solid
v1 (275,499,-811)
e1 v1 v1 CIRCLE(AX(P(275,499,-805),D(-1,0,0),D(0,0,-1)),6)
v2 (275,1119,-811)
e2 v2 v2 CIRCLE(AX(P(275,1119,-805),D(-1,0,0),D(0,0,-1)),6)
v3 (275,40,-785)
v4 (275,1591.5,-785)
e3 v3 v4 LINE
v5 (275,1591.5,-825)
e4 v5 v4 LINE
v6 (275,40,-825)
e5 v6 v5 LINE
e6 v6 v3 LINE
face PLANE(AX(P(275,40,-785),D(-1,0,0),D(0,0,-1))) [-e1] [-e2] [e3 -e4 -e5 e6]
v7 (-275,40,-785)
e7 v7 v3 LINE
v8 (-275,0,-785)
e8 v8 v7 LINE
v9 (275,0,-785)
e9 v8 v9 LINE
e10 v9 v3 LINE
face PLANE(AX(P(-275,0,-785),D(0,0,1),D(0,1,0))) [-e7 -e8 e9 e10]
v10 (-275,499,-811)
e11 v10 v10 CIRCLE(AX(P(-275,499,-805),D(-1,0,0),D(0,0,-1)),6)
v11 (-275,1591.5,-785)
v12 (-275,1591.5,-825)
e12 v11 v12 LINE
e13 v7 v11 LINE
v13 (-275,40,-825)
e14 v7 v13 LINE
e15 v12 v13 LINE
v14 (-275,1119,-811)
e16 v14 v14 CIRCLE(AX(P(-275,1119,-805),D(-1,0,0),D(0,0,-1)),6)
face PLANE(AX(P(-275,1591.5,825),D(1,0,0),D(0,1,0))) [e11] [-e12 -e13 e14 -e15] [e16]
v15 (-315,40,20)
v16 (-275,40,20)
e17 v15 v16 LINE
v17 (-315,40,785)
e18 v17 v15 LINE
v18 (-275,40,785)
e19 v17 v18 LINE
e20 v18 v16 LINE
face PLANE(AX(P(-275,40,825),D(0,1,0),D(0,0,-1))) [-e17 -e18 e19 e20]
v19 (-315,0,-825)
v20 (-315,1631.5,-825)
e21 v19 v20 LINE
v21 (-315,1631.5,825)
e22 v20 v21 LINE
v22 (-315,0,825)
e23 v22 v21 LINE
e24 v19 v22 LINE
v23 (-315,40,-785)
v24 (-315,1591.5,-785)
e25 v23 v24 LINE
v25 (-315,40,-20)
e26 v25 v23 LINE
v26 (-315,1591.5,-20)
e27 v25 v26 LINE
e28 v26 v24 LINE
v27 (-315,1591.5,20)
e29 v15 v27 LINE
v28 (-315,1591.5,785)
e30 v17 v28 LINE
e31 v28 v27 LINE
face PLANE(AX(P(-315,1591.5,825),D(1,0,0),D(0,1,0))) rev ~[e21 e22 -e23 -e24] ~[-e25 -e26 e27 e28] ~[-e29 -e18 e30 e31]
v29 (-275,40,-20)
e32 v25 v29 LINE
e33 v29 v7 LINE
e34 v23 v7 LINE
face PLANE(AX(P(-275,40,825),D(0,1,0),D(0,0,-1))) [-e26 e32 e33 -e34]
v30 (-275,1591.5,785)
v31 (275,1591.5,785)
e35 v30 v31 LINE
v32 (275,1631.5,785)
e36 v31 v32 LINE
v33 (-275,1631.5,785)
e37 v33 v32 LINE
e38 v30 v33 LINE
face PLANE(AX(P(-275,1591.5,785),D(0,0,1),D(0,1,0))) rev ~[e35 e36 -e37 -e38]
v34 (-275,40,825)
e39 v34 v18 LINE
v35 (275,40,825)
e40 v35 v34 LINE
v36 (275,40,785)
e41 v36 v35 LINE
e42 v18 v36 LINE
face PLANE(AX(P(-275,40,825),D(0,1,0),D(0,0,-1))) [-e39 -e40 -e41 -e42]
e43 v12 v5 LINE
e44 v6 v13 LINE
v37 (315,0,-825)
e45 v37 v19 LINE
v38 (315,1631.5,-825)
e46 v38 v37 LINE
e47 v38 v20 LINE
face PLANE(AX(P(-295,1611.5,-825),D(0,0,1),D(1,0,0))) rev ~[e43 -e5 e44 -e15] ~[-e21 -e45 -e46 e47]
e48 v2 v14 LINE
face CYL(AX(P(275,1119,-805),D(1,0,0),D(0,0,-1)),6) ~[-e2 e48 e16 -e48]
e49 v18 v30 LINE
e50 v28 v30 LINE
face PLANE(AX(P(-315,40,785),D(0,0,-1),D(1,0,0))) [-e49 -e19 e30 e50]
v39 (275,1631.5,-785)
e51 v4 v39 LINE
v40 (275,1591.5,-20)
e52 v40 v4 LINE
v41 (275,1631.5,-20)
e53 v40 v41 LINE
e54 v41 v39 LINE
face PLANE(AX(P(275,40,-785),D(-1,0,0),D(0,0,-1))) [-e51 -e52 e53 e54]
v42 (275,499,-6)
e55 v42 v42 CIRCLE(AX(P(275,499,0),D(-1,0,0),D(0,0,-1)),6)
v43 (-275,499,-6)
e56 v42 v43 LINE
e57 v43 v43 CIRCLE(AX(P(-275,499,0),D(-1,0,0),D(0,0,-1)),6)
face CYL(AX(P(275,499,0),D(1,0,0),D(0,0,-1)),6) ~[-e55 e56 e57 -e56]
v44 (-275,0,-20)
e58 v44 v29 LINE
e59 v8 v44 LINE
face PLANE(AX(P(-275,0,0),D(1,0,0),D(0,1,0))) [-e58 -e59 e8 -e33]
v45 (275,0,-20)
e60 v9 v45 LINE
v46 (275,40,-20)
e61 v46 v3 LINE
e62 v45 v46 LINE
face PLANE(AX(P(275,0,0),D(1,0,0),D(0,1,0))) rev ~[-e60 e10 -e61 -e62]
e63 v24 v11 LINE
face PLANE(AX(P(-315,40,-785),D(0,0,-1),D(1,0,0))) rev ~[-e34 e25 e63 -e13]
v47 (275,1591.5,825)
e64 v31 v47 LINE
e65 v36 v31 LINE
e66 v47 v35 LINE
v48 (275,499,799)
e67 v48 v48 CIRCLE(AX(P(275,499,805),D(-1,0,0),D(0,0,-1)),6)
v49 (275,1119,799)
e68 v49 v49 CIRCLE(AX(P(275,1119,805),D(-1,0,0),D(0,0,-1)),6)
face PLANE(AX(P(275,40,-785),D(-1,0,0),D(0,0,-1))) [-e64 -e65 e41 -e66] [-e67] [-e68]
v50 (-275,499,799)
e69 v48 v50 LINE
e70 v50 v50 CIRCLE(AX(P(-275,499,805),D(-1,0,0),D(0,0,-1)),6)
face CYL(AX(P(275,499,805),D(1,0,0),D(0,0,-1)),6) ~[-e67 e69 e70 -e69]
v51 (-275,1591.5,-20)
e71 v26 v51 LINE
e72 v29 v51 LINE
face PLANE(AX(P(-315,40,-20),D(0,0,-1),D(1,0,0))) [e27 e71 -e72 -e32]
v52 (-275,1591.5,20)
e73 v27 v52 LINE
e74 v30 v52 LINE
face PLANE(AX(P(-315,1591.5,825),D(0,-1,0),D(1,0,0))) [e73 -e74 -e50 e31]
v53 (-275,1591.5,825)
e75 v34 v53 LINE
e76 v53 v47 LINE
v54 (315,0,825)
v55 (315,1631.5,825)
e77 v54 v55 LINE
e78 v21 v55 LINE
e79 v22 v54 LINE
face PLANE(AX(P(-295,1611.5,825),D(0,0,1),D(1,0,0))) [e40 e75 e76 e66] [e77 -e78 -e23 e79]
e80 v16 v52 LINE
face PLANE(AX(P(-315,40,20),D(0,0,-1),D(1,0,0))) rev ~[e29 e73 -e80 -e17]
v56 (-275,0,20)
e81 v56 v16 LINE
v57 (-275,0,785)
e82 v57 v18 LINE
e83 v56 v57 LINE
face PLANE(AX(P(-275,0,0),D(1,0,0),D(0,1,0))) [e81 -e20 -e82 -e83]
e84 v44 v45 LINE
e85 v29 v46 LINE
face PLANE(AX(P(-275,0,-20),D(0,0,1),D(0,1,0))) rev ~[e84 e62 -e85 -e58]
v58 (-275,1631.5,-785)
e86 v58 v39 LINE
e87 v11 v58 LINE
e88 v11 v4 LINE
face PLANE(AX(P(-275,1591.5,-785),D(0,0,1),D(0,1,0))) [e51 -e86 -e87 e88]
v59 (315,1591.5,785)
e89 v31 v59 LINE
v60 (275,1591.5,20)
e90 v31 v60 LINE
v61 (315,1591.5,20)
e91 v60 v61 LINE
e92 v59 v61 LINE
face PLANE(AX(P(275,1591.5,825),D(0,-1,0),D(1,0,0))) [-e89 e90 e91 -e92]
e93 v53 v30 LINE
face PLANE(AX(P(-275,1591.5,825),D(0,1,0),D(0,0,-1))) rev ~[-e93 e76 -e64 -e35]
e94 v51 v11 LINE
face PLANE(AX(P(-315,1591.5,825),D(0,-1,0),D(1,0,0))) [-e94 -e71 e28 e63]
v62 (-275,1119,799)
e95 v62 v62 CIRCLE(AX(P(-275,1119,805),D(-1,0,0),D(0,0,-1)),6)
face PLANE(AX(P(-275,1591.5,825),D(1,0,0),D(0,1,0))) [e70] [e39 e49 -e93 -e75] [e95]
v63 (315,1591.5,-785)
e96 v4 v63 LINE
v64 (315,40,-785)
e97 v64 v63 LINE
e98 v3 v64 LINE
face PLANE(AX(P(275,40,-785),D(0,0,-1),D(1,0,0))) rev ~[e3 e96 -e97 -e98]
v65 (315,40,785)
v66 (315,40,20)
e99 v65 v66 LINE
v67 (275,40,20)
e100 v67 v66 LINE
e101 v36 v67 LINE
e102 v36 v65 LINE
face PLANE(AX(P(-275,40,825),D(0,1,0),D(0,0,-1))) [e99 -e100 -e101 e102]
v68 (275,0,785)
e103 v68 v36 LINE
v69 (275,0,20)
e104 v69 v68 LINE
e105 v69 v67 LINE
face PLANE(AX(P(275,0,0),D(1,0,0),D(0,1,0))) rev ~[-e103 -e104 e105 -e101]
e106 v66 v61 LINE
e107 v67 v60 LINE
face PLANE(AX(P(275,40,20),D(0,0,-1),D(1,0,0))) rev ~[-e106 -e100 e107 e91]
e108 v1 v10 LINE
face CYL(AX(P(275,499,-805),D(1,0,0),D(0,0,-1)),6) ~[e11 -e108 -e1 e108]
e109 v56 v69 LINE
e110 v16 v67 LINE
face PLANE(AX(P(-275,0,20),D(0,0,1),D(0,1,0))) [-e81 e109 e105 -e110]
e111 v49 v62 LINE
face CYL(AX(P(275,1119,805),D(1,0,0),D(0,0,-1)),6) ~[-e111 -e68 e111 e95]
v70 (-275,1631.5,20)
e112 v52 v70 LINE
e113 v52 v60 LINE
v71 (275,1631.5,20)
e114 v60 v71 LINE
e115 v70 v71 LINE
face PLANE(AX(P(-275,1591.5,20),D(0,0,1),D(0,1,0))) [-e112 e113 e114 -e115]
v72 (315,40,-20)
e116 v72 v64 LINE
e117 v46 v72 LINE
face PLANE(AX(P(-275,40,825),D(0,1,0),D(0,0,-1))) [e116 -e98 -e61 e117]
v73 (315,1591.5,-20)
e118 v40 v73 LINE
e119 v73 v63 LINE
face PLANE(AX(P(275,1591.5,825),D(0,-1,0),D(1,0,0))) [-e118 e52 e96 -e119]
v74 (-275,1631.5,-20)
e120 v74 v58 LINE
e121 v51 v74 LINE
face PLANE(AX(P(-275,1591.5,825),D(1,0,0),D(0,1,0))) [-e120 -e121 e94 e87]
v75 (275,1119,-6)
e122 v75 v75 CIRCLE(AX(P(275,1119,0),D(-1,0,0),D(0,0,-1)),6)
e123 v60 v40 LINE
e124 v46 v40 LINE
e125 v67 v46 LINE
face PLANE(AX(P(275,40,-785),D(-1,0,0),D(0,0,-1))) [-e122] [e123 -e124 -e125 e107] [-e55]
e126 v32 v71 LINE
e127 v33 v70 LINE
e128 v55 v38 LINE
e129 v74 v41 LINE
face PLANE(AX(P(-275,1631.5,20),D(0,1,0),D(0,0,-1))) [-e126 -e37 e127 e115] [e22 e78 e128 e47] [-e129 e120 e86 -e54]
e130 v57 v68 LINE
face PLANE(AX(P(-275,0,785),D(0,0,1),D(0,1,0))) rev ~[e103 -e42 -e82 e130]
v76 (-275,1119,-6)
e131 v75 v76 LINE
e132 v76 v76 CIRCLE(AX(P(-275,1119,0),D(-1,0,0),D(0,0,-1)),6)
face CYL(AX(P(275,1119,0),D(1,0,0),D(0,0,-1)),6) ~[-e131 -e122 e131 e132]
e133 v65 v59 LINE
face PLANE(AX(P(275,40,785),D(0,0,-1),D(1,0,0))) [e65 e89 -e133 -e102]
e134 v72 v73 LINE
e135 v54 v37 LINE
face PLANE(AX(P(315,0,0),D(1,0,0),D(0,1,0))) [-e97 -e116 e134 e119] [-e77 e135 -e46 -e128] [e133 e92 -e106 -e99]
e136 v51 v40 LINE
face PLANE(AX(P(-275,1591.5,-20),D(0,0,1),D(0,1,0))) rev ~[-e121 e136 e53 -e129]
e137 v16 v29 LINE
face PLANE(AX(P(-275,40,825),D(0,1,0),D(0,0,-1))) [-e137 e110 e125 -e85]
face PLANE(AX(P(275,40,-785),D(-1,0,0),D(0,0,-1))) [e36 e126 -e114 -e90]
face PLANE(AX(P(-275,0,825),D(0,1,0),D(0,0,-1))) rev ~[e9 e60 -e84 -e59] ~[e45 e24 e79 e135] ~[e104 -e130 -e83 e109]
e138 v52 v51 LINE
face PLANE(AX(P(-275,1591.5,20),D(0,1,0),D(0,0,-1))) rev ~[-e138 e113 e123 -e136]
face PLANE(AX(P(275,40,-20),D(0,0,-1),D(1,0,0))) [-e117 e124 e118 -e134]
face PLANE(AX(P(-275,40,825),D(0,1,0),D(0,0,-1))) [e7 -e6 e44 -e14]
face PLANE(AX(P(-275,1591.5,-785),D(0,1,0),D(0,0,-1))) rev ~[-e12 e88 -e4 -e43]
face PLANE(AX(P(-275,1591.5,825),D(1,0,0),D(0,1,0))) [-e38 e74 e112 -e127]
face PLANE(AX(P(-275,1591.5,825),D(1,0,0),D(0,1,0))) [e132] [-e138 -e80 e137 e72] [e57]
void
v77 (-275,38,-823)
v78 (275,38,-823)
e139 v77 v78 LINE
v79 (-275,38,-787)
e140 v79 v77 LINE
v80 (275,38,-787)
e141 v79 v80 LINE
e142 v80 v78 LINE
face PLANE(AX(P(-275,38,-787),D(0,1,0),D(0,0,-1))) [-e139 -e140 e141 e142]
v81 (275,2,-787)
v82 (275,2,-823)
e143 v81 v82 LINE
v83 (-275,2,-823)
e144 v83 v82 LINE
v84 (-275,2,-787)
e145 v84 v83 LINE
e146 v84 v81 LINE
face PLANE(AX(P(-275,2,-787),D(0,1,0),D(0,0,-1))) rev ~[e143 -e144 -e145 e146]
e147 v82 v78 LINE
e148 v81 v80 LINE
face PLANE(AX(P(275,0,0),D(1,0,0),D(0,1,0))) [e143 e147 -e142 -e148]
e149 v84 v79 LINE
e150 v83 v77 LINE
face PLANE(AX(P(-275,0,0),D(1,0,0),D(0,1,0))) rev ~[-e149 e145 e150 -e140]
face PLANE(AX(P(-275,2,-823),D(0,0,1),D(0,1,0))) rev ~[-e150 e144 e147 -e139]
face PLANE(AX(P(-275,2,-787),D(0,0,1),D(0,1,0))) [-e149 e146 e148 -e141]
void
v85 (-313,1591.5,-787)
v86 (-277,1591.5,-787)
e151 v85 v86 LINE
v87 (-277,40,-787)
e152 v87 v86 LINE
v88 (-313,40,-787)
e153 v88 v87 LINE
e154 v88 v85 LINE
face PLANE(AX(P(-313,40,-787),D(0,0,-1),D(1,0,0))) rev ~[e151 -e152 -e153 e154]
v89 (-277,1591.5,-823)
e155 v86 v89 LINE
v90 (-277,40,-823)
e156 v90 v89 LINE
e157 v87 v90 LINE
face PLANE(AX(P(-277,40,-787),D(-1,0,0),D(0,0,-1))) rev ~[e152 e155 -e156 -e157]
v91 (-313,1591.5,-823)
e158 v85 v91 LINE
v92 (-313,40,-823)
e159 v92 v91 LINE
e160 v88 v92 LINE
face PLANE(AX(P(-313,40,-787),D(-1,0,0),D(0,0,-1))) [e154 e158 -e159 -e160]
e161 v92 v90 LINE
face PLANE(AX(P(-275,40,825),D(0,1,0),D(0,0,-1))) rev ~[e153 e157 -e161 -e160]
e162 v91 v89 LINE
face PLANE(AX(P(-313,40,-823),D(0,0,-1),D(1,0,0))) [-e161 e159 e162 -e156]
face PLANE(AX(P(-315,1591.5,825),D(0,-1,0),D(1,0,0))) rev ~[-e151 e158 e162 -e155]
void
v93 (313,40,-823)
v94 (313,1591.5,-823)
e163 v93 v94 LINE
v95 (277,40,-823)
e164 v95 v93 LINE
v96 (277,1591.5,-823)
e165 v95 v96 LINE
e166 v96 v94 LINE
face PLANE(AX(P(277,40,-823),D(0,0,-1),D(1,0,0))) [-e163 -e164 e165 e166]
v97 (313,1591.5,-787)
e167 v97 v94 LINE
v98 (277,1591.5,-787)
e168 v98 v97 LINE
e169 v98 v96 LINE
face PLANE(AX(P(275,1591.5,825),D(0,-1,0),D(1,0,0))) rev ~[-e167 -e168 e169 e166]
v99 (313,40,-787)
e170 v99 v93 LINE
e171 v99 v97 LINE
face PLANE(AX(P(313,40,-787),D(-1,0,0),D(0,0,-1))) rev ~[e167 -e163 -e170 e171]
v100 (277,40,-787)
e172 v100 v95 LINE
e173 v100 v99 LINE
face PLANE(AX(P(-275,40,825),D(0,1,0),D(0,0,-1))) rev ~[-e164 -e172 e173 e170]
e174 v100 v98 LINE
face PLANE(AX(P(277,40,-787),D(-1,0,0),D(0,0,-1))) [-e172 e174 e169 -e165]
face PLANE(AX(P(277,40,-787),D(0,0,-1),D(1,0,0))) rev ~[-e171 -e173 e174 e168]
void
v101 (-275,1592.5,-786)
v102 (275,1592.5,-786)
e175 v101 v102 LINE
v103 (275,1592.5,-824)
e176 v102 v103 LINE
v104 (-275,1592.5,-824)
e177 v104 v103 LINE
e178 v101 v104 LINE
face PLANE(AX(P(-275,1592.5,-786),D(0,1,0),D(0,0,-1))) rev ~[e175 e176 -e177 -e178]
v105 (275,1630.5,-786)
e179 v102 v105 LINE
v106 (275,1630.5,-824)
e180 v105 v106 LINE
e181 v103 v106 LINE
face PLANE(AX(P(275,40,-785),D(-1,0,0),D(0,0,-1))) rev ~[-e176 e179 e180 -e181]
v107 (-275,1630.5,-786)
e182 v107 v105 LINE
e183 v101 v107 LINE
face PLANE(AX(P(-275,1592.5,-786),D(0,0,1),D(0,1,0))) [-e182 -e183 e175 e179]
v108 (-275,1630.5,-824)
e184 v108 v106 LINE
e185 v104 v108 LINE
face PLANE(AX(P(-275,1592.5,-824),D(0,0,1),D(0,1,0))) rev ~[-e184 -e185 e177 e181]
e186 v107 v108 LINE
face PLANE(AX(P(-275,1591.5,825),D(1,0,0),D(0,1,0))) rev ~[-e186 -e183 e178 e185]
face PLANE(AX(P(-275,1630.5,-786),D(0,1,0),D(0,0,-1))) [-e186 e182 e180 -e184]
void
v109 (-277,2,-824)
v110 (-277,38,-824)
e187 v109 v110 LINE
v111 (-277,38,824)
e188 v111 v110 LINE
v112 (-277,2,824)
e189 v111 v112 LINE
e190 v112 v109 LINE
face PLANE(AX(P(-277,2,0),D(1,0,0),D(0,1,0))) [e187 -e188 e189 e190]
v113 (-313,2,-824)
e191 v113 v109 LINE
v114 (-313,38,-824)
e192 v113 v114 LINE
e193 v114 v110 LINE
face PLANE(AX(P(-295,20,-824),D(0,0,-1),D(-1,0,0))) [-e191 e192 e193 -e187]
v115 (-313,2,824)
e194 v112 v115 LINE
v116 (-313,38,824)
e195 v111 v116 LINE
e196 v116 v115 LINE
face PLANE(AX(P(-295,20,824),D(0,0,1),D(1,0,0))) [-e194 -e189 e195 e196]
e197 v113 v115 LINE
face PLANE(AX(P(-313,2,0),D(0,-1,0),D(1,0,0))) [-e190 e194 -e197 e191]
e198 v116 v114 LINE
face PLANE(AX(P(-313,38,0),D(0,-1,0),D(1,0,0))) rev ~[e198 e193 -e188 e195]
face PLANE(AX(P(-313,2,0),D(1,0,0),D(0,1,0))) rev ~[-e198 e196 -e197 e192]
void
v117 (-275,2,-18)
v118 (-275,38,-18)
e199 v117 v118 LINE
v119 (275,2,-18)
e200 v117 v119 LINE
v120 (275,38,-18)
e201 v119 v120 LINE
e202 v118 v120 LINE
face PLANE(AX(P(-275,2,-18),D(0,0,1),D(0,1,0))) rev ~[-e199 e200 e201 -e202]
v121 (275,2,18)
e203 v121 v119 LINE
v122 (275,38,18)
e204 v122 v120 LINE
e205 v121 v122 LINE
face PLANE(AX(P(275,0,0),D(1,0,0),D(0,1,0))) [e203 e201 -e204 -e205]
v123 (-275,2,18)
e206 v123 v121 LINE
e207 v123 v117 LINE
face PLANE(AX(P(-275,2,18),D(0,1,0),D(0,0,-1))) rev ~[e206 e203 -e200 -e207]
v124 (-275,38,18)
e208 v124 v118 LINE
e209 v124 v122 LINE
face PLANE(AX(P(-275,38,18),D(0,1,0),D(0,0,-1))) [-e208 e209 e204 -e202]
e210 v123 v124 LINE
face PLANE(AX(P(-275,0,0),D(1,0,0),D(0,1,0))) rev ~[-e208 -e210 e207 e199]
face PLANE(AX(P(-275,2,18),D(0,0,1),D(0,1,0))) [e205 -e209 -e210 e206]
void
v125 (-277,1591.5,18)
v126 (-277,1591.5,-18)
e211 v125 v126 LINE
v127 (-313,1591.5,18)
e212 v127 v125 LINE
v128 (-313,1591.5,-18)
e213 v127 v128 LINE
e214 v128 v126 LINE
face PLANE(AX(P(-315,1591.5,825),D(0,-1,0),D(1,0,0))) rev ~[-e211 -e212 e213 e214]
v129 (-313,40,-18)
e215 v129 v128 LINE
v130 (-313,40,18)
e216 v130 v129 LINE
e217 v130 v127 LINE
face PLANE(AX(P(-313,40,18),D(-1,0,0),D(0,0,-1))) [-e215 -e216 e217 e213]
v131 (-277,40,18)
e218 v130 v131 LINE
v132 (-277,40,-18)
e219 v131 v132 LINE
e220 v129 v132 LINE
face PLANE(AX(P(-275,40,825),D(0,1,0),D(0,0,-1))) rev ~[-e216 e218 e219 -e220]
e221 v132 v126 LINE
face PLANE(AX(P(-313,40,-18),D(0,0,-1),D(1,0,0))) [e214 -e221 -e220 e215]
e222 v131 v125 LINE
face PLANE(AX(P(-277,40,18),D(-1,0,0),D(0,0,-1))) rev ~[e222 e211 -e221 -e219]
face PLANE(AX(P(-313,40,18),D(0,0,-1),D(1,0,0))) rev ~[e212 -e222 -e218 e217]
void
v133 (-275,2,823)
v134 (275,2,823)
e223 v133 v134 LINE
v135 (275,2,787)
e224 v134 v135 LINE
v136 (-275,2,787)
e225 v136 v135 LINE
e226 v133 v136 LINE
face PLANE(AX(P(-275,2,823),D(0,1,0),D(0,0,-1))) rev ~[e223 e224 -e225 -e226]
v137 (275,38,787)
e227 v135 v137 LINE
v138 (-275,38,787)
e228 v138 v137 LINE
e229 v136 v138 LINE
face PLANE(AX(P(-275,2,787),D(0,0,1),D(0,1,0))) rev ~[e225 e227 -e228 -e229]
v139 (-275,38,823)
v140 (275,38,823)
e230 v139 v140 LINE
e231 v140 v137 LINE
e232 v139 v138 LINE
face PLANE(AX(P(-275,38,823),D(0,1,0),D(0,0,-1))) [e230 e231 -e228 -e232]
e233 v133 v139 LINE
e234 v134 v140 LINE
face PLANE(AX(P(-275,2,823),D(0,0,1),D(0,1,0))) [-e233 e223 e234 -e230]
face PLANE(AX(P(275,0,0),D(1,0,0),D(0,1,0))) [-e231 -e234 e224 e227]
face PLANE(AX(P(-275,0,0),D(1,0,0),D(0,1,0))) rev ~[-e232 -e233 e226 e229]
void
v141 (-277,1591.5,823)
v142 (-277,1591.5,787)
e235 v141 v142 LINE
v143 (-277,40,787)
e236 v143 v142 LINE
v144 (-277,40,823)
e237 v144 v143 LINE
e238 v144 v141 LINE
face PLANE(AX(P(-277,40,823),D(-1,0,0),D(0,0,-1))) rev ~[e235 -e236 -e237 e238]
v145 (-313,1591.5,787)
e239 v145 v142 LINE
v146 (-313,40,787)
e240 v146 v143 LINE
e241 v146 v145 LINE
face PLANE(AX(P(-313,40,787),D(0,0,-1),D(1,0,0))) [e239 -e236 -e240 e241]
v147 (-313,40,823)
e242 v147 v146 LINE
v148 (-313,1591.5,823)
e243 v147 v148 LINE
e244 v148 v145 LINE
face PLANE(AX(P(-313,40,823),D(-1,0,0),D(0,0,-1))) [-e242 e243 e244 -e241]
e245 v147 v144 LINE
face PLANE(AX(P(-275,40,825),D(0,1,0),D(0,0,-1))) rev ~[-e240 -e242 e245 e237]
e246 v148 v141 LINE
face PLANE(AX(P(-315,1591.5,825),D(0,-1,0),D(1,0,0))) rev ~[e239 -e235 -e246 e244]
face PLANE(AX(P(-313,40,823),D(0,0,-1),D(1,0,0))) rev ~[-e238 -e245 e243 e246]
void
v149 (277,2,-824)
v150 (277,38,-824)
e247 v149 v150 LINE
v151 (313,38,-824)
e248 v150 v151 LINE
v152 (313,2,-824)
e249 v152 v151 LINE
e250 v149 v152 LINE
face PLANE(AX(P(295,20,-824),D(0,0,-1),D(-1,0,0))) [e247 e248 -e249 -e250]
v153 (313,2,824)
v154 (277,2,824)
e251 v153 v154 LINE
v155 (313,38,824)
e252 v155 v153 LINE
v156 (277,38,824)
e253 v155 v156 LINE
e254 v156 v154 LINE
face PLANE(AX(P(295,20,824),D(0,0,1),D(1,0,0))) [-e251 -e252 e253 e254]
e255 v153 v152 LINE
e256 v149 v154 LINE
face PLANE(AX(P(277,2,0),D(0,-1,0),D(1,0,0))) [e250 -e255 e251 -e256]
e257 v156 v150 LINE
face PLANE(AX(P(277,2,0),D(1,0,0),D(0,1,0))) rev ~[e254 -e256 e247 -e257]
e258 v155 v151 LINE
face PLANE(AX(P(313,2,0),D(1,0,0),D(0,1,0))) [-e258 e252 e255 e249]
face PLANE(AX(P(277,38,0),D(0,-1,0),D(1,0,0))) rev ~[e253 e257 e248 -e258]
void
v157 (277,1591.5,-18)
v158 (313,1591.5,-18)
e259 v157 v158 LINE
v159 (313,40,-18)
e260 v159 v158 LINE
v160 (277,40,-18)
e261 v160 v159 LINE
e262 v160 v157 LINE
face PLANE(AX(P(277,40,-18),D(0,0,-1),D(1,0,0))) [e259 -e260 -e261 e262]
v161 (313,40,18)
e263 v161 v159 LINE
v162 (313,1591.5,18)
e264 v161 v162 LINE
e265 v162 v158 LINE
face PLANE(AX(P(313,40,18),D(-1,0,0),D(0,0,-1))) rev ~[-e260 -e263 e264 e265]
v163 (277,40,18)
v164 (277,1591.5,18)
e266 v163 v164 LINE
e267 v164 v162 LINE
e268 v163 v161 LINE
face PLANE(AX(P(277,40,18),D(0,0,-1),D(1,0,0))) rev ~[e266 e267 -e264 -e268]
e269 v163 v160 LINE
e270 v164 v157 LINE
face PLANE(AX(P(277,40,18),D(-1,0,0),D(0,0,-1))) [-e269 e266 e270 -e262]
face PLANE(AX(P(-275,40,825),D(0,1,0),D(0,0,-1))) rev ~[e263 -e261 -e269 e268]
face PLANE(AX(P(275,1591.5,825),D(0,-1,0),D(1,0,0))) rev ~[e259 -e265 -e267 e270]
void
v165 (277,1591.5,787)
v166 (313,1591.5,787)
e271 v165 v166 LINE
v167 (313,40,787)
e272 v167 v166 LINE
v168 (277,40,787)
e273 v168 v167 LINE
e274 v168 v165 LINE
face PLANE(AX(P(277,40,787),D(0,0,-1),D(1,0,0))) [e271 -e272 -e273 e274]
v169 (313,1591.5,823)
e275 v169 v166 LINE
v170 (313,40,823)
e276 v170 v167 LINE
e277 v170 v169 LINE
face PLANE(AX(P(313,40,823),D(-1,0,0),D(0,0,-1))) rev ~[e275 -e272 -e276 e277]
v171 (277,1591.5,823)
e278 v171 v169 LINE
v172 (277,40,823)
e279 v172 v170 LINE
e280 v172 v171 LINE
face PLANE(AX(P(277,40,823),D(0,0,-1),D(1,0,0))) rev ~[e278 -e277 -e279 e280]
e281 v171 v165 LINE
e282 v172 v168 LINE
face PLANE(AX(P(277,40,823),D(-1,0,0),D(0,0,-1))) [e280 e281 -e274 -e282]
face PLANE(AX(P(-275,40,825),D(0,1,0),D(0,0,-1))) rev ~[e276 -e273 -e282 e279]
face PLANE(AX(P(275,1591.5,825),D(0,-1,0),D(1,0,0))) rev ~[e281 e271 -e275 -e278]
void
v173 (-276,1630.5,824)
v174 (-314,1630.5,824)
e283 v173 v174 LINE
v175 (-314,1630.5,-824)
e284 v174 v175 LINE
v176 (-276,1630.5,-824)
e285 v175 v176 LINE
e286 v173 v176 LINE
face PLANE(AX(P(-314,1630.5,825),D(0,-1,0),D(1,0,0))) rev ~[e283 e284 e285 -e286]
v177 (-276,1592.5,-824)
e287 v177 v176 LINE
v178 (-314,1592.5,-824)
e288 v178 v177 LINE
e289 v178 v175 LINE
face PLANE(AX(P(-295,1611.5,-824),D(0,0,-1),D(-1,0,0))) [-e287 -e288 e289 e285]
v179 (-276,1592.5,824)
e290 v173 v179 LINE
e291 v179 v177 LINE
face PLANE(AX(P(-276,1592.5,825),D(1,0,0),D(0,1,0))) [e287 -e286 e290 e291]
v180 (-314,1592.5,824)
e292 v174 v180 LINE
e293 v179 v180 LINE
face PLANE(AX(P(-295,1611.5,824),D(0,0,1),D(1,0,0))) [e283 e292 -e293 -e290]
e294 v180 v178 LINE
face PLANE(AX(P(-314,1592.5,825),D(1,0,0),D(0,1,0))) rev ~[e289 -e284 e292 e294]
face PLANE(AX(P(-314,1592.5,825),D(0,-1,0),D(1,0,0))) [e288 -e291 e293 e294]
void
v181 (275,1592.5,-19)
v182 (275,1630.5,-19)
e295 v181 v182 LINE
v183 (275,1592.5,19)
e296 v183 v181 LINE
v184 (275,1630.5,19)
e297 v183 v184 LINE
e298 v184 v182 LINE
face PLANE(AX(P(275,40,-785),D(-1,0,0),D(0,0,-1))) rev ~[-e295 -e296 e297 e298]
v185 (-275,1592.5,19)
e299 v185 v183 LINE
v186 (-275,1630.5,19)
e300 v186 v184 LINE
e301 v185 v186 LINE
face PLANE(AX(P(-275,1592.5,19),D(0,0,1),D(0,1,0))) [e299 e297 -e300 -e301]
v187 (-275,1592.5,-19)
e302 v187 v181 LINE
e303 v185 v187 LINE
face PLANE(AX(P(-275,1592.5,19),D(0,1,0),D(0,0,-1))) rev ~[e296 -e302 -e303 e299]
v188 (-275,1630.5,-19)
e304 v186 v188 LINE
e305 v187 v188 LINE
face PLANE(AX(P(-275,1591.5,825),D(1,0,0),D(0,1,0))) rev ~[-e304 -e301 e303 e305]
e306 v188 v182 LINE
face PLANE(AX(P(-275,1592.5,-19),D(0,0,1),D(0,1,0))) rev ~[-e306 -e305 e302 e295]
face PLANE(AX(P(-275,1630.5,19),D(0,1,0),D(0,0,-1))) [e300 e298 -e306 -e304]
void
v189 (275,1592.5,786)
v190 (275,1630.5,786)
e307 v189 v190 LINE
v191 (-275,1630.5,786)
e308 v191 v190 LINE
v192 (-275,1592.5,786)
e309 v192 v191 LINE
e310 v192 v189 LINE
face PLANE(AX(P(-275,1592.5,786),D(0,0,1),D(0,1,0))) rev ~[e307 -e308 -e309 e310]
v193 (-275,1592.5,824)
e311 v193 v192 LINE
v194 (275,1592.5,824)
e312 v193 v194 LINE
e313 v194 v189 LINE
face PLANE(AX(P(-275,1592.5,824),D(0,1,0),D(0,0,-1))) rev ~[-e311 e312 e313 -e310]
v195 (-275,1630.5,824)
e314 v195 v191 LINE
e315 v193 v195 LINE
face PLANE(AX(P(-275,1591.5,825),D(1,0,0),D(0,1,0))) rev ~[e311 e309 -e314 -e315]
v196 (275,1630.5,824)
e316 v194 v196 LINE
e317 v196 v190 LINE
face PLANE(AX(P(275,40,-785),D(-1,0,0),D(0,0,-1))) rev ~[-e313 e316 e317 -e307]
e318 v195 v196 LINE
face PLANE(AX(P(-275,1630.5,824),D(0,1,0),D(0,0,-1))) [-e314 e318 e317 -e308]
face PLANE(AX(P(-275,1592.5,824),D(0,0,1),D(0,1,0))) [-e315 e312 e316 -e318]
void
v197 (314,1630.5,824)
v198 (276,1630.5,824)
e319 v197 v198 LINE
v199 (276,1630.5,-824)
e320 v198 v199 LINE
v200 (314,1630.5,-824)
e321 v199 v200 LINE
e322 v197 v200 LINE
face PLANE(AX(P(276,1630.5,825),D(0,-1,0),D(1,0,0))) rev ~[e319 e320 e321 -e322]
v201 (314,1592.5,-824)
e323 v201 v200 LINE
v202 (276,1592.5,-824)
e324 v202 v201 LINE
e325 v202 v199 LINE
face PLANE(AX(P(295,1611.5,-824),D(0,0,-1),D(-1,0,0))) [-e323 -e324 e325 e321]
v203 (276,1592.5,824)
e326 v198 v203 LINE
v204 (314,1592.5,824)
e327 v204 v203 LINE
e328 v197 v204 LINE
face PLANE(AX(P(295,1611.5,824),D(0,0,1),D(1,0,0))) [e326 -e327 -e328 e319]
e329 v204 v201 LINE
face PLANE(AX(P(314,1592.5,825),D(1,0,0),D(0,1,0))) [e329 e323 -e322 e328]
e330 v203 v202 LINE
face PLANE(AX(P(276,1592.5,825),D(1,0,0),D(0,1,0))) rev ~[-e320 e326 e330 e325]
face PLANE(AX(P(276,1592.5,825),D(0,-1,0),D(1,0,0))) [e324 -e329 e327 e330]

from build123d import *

# Parameters (mm, degrees)
SKETCH1_W             = 40
SKETCH1_H             = 40
SKETCH1_W_2           = 36
SKETCH1_H_2           = 36
BOSS_EXTRUDE1_DEPTH   = 825
BOSS_EXTRUDE1_2_DEPTH = 825
SKETCH2_W             = 40
SKETCH2_H             = 40
SKETCH2_W_2           = 36
SKETCH2_H_2           = 36
BOSS_EXTRUDE2_DEPTH   = 550
SKETCH3_W             = 40
SKETCH3_H             = 40
SKETCH3_W_2           = 36
SKETCH3_H_2           = 36
BOSS_EXTRUDE5_DEPTH   = 1551.5
SKETCH5_W             = 40
SKETCH5_H             = 40
SKETCH5_W_2           = 38
SKETCH5_H_2           = 38
BOSS_EXTRUDE6_DEPTH   = 1650
SKETCH6_W             = 40
SKETCH6_H             = 40
SKETCH6_W_2           = 38
SKETCH6_H_2           = 38
BOSS_EXTRUDE7_DEPTH   = 550
SKETCH7_R             = 6
BOSS_EXTRUDE8_DEPTH   = 550
SKETCH8_W             = 40
SKETCH8_H             = 40
BOSS_EXTRUDE10_DEPTH  = 1
SKETCH9_W             = 40
SKETCH9_H             = 40
BOSS_EXTRUDE11_DEPTH  = 1


with BuildPart() as part:
    # Sketch1 → Boss-Extrude1 (new, symmetric)
    with BuildSketch(Plane.XY):
        with Locations((-295, 20)):
            Rectangle(SKETCH1_W, SKETCH1_H)
        with Locations((-295, 20)):
            Rectangle(SKETCH1_W_2, SKETCH1_H_2, mode=Mode.SUBTRACT)
    extrude(amount=BOSS_EXTRUDE1_DEPTH, both=True)



with BuildPart() as body_2:
    # Sketch1 → Boss-Extrude1 2 (new, symmetric)
    with BuildSketch(Plane.XY):
        with Locations((295, 20)):
            Rectangle(SKETCH1_W, SKETCH1_H)
        with Locations((295, 20)):
            Rectangle(SKETCH1_W_2, SKETCH1_H_2, mode=Mode.SUBTRACT)
    extrude(amount=BOSS_EXTRUDE1_2_DEPTH, both=True)


with BuildPart() as part_1:
    add(part.part)

    add(body_2.part)  # Boss-Extrude2 merges body 2
    # Sketch2 → Boss-Extrude2 (add)
    # profile 1 of 3: a face of its own
    with BuildSketch(Plane(origin=(-275, 0, 0), x_dir=(0, 0, -1), z_dir=(1, 0, 0))):
        with Locations((-805, 20)):
            Rectangle(SKETCH2_W, SKETCH2_H)
        with Locations((-805, 20)):
            Rectangle(SKETCH2_W_2, SKETCH2_H_2, mode=Mode.SUBTRACT)
    # profile 2 of 3: a face of its own
    with BuildSketch(Plane(origin=(-275, 0, 0), x_dir=(0, 0, -1), z_dir=(1, 0, 0))):
        with Locations((805, 20)):
            Rectangle(SKETCH2_W, SKETCH2_H)
        with Locations((805, 20)):
            Rectangle(SKETCH2_W_2, SKETCH2_H_2, mode=Mode.SUBTRACT)
    # profile 3 of 3: a face of its own
    with BuildSketch(Plane(origin=(-275, 0, 0), x_dir=(0, 0, -1), z_dir=(1, 0, 0))):
        with Locations((0, 20)):
            Rectangle(SKETCH2_W, SKETCH2_H)
        with Locations((0, 20)):
            Rectangle(SKETCH2_W_2, SKETCH2_H_2, mode=Mode.SUBTRACT)
    extrude(amount=BOSS_EXTRUDE2_DEPTH)

    # Sketch3 → Boss-Extrude5 (add)
    # profile 1 of 6: a face of its own
    with BuildSketch(Plane(origin=(0, 40, 0), x_dir=(1, 0, 0), z_dir=(0, 1, 0))):
        with Locations((-295, -805)):
            Rectangle(SKETCH3_W, SKETCH3_H)
        with Locations((-295, -805)):
            Rectangle(SKETCH3_W_2, SKETCH3_H_2, mode=Mode.SUBTRACT)
    # profile 2 of 6: a face of its own
    with BuildSketch(Plane(origin=(0, 40, 0), x_dir=(1, 0, 0), z_dir=(0, 1, 0))):
        with Locations((295, -805)):
            Rectangle(SKETCH3_W, SKETCH3_H)
        with Locations((295, -805)):
            Rectangle(SKETCH3_W_2, SKETCH3_H_2, mode=Mode.SUBTRACT)
    # profile 3 of 6: a face of its own
    with BuildSketch(Plane(origin=(0, 40, 0), x_dir=(1, 0, 0), z_dir=(0, 1, 0))):
        with Locations((295, 0)):
            Rectangle(SKETCH3_W, SKETCH3_H)
        with Locations((295, 0)):
            Rectangle(SKETCH3_W_2, SKETCH3_H_2, mode=Mode.SUBTRACT)
    # profile 4 of 6: a face of its own
    with BuildSketch(Plane(origin=(0, 40, 0), x_dir=(1, 0, 0), z_dir=(0, 1, 0))):
        with Locations((-295, 0)):
            Rectangle(SKETCH3_W, SKETCH3_H)
        with Locations((-295, 0)):
            Rectangle(SKETCH3_W_2, SKETCH3_H_2, mode=Mode.SUBTRACT)
    # profile 5 of 6: a face of its own
    with BuildSketch(Plane(origin=(0, 40, 0), x_dir=(1, 0, 0), z_dir=(0, 1, 0))):
        with Locations((-295, 805)):
            Rectangle(SKETCH3_W, SKETCH3_H)
        with Locations((-295, 805)):
            Rectangle(SKETCH3_W_2, SKETCH3_H_2, mode=Mode.SUBTRACT)
    # profile 6 of 6: a face of its own
    with BuildSketch(Plane(origin=(0, 40, 0), x_dir=(1, 0, 0), z_dir=(0, 1, 0))):
        with Locations((295, 805)):
            Rectangle(SKETCH3_W, SKETCH3_H)
        with Locations((295, 805)):
            Rectangle(SKETCH3_W_2, SKETCH3_H_2, mode=Mode.SUBTRACT)
    extrude(amount=BOSS_EXTRUDE5_DEPTH)

    # Sketch5 → Boss-Extrude6 (add)
    # profile 1 of 2: a face of its own
    with BuildSketch(Plane.XY.offset(825)):
        with Locations((-295, 1611.5)):
            Rectangle(SKETCH5_W, SKETCH5_H)
        with Locations((-295, 1611.5)):
            Rectangle(SKETCH5_W_2, SKETCH5_H_2, mode=Mode.SUBTRACT)
    # profile 2 of 2: a face of its own
    with BuildSketch(Plane.XY.offset(825)):
        with Locations((295, 1611.5)):
            Rectangle(SKETCH5_W, SKETCH5_H)
        with Locations((295, 1611.5)):
            Rectangle(SKETCH5_W_2, SKETCH5_H_2, mode=Mode.SUBTRACT)
    extrude(amount=-BOSS_EXTRUDE6_DEPTH)

    # Sketch6 → Boss-Extrude7 (add)
    # profile 1 of 3: a face of its own
    with BuildSketch(Plane(origin=(-275, 0, 0), x_dir=(0, 0, -1), z_dir=(1, 0, 0))):
        with Locations((0, 1611.5)):
            Rectangle(SKETCH6_W, SKETCH6_H)
        with Locations((0, 1611.5)):
            Rectangle(SKETCH6_W_2, SKETCH6_H_2, mode=Mode.SUBTRACT)
    # profile 2 of 3: a face of its own
    with BuildSketch(Plane(origin=(-275, 0, 0), x_dir=(0, 0, -1), z_dir=(1, 0, 0))):
        with Locations((-805, 1611.5)):
            Rectangle(SKETCH6_W, SKETCH6_H)
        with Locations((-805, 1611.5)):
            Rectangle(SKETCH6_W_2, SKETCH6_H_2, mode=Mode.SUBTRACT)
    # profile 3 of 3: a face of its own
    with BuildSketch(Plane(origin=(-275, 0, 0), x_dir=(0, 0, -1), z_dir=(1, 0, 0))):
        with Locations((805, 1611.5)):
            Rectangle(SKETCH6_W, SKETCH6_H)
        with Locations((805, 1611.5)):
            Rectangle(SKETCH6_W_2, SKETCH6_H_2, mode=Mode.SUBTRACT)
    extrude(amount=BOSS_EXTRUDE7_DEPTH)

    # Sketch7 → Boss-Extrude8 (add)
    with BuildSketch(Plane.ZY.offset(-275)):
        with Locations(Location((805, 1119, 0), (0, 0, 180))):
            Circle(SKETCH7_R)
        with Locations(Location((805, 499, 0), (0, 0, 180))):
            Circle(SKETCH7_R)
        with Locations(Location((0, 1119, 0), (0, 0, 180))):
            Circle(SKETCH7_R)
        with Locations(Location((0, 499, 0), (0, 0, 180))):
            Circle(SKETCH7_R)
        with Locations(Location((-805, 499, 0), (0, 0, 180))):
            Circle(SKETCH7_R)
        with Locations(Location((-805, 1119, 0), (0, 0, 180))):
            Circle(SKETCH7_R)
    extrude(amount=BOSS_EXTRUDE8_DEPTH)

    # Sketch8 → Boss-Extrude10 (add)
    with BuildSketch(Plane.XY.offset(825)):
        with Locations((-295, 1611.5)):
            Rectangle(SKETCH8_W, SKETCH8_H)
        with Locations((295, 1611.5)):
            Rectangle(SKETCH8_W, SKETCH8_H)
        with Locations((-295, 20)):
            Rectangle(SKETCH8_W, SKETCH8_H)
        with Locations((295, 20)):
            Rectangle(SKETCH8_W, SKETCH8_H)
    extrude(amount=-BOSS_EXTRUDE10_DEPTH)

    # Sketch9 → Boss-Extrude11 (add)
    with BuildSketch(Plane(origin=(0, 0, -825), x_dir=(-1, 0, 0), z_dir=(0, 0, -1))):
        with Locations((-295, 1611.5)):
            Rectangle(SKETCH9_W, SKETCH9_H)
        with Locations((295, 1611.5)):
            Rectangle(SKETCH9_W, SKETCH9_H)
        with Locations((295, 20)):
            Rectangle(SKETCH9_W, SKETCH9_H)
        with Locations((-295, 20)):
            Rectangle(SKETCH9_W, SKETCH9_H)
    extrude(amount=-BOSS_EXTRUDE11_DEPTH)


solid = part_1.part
